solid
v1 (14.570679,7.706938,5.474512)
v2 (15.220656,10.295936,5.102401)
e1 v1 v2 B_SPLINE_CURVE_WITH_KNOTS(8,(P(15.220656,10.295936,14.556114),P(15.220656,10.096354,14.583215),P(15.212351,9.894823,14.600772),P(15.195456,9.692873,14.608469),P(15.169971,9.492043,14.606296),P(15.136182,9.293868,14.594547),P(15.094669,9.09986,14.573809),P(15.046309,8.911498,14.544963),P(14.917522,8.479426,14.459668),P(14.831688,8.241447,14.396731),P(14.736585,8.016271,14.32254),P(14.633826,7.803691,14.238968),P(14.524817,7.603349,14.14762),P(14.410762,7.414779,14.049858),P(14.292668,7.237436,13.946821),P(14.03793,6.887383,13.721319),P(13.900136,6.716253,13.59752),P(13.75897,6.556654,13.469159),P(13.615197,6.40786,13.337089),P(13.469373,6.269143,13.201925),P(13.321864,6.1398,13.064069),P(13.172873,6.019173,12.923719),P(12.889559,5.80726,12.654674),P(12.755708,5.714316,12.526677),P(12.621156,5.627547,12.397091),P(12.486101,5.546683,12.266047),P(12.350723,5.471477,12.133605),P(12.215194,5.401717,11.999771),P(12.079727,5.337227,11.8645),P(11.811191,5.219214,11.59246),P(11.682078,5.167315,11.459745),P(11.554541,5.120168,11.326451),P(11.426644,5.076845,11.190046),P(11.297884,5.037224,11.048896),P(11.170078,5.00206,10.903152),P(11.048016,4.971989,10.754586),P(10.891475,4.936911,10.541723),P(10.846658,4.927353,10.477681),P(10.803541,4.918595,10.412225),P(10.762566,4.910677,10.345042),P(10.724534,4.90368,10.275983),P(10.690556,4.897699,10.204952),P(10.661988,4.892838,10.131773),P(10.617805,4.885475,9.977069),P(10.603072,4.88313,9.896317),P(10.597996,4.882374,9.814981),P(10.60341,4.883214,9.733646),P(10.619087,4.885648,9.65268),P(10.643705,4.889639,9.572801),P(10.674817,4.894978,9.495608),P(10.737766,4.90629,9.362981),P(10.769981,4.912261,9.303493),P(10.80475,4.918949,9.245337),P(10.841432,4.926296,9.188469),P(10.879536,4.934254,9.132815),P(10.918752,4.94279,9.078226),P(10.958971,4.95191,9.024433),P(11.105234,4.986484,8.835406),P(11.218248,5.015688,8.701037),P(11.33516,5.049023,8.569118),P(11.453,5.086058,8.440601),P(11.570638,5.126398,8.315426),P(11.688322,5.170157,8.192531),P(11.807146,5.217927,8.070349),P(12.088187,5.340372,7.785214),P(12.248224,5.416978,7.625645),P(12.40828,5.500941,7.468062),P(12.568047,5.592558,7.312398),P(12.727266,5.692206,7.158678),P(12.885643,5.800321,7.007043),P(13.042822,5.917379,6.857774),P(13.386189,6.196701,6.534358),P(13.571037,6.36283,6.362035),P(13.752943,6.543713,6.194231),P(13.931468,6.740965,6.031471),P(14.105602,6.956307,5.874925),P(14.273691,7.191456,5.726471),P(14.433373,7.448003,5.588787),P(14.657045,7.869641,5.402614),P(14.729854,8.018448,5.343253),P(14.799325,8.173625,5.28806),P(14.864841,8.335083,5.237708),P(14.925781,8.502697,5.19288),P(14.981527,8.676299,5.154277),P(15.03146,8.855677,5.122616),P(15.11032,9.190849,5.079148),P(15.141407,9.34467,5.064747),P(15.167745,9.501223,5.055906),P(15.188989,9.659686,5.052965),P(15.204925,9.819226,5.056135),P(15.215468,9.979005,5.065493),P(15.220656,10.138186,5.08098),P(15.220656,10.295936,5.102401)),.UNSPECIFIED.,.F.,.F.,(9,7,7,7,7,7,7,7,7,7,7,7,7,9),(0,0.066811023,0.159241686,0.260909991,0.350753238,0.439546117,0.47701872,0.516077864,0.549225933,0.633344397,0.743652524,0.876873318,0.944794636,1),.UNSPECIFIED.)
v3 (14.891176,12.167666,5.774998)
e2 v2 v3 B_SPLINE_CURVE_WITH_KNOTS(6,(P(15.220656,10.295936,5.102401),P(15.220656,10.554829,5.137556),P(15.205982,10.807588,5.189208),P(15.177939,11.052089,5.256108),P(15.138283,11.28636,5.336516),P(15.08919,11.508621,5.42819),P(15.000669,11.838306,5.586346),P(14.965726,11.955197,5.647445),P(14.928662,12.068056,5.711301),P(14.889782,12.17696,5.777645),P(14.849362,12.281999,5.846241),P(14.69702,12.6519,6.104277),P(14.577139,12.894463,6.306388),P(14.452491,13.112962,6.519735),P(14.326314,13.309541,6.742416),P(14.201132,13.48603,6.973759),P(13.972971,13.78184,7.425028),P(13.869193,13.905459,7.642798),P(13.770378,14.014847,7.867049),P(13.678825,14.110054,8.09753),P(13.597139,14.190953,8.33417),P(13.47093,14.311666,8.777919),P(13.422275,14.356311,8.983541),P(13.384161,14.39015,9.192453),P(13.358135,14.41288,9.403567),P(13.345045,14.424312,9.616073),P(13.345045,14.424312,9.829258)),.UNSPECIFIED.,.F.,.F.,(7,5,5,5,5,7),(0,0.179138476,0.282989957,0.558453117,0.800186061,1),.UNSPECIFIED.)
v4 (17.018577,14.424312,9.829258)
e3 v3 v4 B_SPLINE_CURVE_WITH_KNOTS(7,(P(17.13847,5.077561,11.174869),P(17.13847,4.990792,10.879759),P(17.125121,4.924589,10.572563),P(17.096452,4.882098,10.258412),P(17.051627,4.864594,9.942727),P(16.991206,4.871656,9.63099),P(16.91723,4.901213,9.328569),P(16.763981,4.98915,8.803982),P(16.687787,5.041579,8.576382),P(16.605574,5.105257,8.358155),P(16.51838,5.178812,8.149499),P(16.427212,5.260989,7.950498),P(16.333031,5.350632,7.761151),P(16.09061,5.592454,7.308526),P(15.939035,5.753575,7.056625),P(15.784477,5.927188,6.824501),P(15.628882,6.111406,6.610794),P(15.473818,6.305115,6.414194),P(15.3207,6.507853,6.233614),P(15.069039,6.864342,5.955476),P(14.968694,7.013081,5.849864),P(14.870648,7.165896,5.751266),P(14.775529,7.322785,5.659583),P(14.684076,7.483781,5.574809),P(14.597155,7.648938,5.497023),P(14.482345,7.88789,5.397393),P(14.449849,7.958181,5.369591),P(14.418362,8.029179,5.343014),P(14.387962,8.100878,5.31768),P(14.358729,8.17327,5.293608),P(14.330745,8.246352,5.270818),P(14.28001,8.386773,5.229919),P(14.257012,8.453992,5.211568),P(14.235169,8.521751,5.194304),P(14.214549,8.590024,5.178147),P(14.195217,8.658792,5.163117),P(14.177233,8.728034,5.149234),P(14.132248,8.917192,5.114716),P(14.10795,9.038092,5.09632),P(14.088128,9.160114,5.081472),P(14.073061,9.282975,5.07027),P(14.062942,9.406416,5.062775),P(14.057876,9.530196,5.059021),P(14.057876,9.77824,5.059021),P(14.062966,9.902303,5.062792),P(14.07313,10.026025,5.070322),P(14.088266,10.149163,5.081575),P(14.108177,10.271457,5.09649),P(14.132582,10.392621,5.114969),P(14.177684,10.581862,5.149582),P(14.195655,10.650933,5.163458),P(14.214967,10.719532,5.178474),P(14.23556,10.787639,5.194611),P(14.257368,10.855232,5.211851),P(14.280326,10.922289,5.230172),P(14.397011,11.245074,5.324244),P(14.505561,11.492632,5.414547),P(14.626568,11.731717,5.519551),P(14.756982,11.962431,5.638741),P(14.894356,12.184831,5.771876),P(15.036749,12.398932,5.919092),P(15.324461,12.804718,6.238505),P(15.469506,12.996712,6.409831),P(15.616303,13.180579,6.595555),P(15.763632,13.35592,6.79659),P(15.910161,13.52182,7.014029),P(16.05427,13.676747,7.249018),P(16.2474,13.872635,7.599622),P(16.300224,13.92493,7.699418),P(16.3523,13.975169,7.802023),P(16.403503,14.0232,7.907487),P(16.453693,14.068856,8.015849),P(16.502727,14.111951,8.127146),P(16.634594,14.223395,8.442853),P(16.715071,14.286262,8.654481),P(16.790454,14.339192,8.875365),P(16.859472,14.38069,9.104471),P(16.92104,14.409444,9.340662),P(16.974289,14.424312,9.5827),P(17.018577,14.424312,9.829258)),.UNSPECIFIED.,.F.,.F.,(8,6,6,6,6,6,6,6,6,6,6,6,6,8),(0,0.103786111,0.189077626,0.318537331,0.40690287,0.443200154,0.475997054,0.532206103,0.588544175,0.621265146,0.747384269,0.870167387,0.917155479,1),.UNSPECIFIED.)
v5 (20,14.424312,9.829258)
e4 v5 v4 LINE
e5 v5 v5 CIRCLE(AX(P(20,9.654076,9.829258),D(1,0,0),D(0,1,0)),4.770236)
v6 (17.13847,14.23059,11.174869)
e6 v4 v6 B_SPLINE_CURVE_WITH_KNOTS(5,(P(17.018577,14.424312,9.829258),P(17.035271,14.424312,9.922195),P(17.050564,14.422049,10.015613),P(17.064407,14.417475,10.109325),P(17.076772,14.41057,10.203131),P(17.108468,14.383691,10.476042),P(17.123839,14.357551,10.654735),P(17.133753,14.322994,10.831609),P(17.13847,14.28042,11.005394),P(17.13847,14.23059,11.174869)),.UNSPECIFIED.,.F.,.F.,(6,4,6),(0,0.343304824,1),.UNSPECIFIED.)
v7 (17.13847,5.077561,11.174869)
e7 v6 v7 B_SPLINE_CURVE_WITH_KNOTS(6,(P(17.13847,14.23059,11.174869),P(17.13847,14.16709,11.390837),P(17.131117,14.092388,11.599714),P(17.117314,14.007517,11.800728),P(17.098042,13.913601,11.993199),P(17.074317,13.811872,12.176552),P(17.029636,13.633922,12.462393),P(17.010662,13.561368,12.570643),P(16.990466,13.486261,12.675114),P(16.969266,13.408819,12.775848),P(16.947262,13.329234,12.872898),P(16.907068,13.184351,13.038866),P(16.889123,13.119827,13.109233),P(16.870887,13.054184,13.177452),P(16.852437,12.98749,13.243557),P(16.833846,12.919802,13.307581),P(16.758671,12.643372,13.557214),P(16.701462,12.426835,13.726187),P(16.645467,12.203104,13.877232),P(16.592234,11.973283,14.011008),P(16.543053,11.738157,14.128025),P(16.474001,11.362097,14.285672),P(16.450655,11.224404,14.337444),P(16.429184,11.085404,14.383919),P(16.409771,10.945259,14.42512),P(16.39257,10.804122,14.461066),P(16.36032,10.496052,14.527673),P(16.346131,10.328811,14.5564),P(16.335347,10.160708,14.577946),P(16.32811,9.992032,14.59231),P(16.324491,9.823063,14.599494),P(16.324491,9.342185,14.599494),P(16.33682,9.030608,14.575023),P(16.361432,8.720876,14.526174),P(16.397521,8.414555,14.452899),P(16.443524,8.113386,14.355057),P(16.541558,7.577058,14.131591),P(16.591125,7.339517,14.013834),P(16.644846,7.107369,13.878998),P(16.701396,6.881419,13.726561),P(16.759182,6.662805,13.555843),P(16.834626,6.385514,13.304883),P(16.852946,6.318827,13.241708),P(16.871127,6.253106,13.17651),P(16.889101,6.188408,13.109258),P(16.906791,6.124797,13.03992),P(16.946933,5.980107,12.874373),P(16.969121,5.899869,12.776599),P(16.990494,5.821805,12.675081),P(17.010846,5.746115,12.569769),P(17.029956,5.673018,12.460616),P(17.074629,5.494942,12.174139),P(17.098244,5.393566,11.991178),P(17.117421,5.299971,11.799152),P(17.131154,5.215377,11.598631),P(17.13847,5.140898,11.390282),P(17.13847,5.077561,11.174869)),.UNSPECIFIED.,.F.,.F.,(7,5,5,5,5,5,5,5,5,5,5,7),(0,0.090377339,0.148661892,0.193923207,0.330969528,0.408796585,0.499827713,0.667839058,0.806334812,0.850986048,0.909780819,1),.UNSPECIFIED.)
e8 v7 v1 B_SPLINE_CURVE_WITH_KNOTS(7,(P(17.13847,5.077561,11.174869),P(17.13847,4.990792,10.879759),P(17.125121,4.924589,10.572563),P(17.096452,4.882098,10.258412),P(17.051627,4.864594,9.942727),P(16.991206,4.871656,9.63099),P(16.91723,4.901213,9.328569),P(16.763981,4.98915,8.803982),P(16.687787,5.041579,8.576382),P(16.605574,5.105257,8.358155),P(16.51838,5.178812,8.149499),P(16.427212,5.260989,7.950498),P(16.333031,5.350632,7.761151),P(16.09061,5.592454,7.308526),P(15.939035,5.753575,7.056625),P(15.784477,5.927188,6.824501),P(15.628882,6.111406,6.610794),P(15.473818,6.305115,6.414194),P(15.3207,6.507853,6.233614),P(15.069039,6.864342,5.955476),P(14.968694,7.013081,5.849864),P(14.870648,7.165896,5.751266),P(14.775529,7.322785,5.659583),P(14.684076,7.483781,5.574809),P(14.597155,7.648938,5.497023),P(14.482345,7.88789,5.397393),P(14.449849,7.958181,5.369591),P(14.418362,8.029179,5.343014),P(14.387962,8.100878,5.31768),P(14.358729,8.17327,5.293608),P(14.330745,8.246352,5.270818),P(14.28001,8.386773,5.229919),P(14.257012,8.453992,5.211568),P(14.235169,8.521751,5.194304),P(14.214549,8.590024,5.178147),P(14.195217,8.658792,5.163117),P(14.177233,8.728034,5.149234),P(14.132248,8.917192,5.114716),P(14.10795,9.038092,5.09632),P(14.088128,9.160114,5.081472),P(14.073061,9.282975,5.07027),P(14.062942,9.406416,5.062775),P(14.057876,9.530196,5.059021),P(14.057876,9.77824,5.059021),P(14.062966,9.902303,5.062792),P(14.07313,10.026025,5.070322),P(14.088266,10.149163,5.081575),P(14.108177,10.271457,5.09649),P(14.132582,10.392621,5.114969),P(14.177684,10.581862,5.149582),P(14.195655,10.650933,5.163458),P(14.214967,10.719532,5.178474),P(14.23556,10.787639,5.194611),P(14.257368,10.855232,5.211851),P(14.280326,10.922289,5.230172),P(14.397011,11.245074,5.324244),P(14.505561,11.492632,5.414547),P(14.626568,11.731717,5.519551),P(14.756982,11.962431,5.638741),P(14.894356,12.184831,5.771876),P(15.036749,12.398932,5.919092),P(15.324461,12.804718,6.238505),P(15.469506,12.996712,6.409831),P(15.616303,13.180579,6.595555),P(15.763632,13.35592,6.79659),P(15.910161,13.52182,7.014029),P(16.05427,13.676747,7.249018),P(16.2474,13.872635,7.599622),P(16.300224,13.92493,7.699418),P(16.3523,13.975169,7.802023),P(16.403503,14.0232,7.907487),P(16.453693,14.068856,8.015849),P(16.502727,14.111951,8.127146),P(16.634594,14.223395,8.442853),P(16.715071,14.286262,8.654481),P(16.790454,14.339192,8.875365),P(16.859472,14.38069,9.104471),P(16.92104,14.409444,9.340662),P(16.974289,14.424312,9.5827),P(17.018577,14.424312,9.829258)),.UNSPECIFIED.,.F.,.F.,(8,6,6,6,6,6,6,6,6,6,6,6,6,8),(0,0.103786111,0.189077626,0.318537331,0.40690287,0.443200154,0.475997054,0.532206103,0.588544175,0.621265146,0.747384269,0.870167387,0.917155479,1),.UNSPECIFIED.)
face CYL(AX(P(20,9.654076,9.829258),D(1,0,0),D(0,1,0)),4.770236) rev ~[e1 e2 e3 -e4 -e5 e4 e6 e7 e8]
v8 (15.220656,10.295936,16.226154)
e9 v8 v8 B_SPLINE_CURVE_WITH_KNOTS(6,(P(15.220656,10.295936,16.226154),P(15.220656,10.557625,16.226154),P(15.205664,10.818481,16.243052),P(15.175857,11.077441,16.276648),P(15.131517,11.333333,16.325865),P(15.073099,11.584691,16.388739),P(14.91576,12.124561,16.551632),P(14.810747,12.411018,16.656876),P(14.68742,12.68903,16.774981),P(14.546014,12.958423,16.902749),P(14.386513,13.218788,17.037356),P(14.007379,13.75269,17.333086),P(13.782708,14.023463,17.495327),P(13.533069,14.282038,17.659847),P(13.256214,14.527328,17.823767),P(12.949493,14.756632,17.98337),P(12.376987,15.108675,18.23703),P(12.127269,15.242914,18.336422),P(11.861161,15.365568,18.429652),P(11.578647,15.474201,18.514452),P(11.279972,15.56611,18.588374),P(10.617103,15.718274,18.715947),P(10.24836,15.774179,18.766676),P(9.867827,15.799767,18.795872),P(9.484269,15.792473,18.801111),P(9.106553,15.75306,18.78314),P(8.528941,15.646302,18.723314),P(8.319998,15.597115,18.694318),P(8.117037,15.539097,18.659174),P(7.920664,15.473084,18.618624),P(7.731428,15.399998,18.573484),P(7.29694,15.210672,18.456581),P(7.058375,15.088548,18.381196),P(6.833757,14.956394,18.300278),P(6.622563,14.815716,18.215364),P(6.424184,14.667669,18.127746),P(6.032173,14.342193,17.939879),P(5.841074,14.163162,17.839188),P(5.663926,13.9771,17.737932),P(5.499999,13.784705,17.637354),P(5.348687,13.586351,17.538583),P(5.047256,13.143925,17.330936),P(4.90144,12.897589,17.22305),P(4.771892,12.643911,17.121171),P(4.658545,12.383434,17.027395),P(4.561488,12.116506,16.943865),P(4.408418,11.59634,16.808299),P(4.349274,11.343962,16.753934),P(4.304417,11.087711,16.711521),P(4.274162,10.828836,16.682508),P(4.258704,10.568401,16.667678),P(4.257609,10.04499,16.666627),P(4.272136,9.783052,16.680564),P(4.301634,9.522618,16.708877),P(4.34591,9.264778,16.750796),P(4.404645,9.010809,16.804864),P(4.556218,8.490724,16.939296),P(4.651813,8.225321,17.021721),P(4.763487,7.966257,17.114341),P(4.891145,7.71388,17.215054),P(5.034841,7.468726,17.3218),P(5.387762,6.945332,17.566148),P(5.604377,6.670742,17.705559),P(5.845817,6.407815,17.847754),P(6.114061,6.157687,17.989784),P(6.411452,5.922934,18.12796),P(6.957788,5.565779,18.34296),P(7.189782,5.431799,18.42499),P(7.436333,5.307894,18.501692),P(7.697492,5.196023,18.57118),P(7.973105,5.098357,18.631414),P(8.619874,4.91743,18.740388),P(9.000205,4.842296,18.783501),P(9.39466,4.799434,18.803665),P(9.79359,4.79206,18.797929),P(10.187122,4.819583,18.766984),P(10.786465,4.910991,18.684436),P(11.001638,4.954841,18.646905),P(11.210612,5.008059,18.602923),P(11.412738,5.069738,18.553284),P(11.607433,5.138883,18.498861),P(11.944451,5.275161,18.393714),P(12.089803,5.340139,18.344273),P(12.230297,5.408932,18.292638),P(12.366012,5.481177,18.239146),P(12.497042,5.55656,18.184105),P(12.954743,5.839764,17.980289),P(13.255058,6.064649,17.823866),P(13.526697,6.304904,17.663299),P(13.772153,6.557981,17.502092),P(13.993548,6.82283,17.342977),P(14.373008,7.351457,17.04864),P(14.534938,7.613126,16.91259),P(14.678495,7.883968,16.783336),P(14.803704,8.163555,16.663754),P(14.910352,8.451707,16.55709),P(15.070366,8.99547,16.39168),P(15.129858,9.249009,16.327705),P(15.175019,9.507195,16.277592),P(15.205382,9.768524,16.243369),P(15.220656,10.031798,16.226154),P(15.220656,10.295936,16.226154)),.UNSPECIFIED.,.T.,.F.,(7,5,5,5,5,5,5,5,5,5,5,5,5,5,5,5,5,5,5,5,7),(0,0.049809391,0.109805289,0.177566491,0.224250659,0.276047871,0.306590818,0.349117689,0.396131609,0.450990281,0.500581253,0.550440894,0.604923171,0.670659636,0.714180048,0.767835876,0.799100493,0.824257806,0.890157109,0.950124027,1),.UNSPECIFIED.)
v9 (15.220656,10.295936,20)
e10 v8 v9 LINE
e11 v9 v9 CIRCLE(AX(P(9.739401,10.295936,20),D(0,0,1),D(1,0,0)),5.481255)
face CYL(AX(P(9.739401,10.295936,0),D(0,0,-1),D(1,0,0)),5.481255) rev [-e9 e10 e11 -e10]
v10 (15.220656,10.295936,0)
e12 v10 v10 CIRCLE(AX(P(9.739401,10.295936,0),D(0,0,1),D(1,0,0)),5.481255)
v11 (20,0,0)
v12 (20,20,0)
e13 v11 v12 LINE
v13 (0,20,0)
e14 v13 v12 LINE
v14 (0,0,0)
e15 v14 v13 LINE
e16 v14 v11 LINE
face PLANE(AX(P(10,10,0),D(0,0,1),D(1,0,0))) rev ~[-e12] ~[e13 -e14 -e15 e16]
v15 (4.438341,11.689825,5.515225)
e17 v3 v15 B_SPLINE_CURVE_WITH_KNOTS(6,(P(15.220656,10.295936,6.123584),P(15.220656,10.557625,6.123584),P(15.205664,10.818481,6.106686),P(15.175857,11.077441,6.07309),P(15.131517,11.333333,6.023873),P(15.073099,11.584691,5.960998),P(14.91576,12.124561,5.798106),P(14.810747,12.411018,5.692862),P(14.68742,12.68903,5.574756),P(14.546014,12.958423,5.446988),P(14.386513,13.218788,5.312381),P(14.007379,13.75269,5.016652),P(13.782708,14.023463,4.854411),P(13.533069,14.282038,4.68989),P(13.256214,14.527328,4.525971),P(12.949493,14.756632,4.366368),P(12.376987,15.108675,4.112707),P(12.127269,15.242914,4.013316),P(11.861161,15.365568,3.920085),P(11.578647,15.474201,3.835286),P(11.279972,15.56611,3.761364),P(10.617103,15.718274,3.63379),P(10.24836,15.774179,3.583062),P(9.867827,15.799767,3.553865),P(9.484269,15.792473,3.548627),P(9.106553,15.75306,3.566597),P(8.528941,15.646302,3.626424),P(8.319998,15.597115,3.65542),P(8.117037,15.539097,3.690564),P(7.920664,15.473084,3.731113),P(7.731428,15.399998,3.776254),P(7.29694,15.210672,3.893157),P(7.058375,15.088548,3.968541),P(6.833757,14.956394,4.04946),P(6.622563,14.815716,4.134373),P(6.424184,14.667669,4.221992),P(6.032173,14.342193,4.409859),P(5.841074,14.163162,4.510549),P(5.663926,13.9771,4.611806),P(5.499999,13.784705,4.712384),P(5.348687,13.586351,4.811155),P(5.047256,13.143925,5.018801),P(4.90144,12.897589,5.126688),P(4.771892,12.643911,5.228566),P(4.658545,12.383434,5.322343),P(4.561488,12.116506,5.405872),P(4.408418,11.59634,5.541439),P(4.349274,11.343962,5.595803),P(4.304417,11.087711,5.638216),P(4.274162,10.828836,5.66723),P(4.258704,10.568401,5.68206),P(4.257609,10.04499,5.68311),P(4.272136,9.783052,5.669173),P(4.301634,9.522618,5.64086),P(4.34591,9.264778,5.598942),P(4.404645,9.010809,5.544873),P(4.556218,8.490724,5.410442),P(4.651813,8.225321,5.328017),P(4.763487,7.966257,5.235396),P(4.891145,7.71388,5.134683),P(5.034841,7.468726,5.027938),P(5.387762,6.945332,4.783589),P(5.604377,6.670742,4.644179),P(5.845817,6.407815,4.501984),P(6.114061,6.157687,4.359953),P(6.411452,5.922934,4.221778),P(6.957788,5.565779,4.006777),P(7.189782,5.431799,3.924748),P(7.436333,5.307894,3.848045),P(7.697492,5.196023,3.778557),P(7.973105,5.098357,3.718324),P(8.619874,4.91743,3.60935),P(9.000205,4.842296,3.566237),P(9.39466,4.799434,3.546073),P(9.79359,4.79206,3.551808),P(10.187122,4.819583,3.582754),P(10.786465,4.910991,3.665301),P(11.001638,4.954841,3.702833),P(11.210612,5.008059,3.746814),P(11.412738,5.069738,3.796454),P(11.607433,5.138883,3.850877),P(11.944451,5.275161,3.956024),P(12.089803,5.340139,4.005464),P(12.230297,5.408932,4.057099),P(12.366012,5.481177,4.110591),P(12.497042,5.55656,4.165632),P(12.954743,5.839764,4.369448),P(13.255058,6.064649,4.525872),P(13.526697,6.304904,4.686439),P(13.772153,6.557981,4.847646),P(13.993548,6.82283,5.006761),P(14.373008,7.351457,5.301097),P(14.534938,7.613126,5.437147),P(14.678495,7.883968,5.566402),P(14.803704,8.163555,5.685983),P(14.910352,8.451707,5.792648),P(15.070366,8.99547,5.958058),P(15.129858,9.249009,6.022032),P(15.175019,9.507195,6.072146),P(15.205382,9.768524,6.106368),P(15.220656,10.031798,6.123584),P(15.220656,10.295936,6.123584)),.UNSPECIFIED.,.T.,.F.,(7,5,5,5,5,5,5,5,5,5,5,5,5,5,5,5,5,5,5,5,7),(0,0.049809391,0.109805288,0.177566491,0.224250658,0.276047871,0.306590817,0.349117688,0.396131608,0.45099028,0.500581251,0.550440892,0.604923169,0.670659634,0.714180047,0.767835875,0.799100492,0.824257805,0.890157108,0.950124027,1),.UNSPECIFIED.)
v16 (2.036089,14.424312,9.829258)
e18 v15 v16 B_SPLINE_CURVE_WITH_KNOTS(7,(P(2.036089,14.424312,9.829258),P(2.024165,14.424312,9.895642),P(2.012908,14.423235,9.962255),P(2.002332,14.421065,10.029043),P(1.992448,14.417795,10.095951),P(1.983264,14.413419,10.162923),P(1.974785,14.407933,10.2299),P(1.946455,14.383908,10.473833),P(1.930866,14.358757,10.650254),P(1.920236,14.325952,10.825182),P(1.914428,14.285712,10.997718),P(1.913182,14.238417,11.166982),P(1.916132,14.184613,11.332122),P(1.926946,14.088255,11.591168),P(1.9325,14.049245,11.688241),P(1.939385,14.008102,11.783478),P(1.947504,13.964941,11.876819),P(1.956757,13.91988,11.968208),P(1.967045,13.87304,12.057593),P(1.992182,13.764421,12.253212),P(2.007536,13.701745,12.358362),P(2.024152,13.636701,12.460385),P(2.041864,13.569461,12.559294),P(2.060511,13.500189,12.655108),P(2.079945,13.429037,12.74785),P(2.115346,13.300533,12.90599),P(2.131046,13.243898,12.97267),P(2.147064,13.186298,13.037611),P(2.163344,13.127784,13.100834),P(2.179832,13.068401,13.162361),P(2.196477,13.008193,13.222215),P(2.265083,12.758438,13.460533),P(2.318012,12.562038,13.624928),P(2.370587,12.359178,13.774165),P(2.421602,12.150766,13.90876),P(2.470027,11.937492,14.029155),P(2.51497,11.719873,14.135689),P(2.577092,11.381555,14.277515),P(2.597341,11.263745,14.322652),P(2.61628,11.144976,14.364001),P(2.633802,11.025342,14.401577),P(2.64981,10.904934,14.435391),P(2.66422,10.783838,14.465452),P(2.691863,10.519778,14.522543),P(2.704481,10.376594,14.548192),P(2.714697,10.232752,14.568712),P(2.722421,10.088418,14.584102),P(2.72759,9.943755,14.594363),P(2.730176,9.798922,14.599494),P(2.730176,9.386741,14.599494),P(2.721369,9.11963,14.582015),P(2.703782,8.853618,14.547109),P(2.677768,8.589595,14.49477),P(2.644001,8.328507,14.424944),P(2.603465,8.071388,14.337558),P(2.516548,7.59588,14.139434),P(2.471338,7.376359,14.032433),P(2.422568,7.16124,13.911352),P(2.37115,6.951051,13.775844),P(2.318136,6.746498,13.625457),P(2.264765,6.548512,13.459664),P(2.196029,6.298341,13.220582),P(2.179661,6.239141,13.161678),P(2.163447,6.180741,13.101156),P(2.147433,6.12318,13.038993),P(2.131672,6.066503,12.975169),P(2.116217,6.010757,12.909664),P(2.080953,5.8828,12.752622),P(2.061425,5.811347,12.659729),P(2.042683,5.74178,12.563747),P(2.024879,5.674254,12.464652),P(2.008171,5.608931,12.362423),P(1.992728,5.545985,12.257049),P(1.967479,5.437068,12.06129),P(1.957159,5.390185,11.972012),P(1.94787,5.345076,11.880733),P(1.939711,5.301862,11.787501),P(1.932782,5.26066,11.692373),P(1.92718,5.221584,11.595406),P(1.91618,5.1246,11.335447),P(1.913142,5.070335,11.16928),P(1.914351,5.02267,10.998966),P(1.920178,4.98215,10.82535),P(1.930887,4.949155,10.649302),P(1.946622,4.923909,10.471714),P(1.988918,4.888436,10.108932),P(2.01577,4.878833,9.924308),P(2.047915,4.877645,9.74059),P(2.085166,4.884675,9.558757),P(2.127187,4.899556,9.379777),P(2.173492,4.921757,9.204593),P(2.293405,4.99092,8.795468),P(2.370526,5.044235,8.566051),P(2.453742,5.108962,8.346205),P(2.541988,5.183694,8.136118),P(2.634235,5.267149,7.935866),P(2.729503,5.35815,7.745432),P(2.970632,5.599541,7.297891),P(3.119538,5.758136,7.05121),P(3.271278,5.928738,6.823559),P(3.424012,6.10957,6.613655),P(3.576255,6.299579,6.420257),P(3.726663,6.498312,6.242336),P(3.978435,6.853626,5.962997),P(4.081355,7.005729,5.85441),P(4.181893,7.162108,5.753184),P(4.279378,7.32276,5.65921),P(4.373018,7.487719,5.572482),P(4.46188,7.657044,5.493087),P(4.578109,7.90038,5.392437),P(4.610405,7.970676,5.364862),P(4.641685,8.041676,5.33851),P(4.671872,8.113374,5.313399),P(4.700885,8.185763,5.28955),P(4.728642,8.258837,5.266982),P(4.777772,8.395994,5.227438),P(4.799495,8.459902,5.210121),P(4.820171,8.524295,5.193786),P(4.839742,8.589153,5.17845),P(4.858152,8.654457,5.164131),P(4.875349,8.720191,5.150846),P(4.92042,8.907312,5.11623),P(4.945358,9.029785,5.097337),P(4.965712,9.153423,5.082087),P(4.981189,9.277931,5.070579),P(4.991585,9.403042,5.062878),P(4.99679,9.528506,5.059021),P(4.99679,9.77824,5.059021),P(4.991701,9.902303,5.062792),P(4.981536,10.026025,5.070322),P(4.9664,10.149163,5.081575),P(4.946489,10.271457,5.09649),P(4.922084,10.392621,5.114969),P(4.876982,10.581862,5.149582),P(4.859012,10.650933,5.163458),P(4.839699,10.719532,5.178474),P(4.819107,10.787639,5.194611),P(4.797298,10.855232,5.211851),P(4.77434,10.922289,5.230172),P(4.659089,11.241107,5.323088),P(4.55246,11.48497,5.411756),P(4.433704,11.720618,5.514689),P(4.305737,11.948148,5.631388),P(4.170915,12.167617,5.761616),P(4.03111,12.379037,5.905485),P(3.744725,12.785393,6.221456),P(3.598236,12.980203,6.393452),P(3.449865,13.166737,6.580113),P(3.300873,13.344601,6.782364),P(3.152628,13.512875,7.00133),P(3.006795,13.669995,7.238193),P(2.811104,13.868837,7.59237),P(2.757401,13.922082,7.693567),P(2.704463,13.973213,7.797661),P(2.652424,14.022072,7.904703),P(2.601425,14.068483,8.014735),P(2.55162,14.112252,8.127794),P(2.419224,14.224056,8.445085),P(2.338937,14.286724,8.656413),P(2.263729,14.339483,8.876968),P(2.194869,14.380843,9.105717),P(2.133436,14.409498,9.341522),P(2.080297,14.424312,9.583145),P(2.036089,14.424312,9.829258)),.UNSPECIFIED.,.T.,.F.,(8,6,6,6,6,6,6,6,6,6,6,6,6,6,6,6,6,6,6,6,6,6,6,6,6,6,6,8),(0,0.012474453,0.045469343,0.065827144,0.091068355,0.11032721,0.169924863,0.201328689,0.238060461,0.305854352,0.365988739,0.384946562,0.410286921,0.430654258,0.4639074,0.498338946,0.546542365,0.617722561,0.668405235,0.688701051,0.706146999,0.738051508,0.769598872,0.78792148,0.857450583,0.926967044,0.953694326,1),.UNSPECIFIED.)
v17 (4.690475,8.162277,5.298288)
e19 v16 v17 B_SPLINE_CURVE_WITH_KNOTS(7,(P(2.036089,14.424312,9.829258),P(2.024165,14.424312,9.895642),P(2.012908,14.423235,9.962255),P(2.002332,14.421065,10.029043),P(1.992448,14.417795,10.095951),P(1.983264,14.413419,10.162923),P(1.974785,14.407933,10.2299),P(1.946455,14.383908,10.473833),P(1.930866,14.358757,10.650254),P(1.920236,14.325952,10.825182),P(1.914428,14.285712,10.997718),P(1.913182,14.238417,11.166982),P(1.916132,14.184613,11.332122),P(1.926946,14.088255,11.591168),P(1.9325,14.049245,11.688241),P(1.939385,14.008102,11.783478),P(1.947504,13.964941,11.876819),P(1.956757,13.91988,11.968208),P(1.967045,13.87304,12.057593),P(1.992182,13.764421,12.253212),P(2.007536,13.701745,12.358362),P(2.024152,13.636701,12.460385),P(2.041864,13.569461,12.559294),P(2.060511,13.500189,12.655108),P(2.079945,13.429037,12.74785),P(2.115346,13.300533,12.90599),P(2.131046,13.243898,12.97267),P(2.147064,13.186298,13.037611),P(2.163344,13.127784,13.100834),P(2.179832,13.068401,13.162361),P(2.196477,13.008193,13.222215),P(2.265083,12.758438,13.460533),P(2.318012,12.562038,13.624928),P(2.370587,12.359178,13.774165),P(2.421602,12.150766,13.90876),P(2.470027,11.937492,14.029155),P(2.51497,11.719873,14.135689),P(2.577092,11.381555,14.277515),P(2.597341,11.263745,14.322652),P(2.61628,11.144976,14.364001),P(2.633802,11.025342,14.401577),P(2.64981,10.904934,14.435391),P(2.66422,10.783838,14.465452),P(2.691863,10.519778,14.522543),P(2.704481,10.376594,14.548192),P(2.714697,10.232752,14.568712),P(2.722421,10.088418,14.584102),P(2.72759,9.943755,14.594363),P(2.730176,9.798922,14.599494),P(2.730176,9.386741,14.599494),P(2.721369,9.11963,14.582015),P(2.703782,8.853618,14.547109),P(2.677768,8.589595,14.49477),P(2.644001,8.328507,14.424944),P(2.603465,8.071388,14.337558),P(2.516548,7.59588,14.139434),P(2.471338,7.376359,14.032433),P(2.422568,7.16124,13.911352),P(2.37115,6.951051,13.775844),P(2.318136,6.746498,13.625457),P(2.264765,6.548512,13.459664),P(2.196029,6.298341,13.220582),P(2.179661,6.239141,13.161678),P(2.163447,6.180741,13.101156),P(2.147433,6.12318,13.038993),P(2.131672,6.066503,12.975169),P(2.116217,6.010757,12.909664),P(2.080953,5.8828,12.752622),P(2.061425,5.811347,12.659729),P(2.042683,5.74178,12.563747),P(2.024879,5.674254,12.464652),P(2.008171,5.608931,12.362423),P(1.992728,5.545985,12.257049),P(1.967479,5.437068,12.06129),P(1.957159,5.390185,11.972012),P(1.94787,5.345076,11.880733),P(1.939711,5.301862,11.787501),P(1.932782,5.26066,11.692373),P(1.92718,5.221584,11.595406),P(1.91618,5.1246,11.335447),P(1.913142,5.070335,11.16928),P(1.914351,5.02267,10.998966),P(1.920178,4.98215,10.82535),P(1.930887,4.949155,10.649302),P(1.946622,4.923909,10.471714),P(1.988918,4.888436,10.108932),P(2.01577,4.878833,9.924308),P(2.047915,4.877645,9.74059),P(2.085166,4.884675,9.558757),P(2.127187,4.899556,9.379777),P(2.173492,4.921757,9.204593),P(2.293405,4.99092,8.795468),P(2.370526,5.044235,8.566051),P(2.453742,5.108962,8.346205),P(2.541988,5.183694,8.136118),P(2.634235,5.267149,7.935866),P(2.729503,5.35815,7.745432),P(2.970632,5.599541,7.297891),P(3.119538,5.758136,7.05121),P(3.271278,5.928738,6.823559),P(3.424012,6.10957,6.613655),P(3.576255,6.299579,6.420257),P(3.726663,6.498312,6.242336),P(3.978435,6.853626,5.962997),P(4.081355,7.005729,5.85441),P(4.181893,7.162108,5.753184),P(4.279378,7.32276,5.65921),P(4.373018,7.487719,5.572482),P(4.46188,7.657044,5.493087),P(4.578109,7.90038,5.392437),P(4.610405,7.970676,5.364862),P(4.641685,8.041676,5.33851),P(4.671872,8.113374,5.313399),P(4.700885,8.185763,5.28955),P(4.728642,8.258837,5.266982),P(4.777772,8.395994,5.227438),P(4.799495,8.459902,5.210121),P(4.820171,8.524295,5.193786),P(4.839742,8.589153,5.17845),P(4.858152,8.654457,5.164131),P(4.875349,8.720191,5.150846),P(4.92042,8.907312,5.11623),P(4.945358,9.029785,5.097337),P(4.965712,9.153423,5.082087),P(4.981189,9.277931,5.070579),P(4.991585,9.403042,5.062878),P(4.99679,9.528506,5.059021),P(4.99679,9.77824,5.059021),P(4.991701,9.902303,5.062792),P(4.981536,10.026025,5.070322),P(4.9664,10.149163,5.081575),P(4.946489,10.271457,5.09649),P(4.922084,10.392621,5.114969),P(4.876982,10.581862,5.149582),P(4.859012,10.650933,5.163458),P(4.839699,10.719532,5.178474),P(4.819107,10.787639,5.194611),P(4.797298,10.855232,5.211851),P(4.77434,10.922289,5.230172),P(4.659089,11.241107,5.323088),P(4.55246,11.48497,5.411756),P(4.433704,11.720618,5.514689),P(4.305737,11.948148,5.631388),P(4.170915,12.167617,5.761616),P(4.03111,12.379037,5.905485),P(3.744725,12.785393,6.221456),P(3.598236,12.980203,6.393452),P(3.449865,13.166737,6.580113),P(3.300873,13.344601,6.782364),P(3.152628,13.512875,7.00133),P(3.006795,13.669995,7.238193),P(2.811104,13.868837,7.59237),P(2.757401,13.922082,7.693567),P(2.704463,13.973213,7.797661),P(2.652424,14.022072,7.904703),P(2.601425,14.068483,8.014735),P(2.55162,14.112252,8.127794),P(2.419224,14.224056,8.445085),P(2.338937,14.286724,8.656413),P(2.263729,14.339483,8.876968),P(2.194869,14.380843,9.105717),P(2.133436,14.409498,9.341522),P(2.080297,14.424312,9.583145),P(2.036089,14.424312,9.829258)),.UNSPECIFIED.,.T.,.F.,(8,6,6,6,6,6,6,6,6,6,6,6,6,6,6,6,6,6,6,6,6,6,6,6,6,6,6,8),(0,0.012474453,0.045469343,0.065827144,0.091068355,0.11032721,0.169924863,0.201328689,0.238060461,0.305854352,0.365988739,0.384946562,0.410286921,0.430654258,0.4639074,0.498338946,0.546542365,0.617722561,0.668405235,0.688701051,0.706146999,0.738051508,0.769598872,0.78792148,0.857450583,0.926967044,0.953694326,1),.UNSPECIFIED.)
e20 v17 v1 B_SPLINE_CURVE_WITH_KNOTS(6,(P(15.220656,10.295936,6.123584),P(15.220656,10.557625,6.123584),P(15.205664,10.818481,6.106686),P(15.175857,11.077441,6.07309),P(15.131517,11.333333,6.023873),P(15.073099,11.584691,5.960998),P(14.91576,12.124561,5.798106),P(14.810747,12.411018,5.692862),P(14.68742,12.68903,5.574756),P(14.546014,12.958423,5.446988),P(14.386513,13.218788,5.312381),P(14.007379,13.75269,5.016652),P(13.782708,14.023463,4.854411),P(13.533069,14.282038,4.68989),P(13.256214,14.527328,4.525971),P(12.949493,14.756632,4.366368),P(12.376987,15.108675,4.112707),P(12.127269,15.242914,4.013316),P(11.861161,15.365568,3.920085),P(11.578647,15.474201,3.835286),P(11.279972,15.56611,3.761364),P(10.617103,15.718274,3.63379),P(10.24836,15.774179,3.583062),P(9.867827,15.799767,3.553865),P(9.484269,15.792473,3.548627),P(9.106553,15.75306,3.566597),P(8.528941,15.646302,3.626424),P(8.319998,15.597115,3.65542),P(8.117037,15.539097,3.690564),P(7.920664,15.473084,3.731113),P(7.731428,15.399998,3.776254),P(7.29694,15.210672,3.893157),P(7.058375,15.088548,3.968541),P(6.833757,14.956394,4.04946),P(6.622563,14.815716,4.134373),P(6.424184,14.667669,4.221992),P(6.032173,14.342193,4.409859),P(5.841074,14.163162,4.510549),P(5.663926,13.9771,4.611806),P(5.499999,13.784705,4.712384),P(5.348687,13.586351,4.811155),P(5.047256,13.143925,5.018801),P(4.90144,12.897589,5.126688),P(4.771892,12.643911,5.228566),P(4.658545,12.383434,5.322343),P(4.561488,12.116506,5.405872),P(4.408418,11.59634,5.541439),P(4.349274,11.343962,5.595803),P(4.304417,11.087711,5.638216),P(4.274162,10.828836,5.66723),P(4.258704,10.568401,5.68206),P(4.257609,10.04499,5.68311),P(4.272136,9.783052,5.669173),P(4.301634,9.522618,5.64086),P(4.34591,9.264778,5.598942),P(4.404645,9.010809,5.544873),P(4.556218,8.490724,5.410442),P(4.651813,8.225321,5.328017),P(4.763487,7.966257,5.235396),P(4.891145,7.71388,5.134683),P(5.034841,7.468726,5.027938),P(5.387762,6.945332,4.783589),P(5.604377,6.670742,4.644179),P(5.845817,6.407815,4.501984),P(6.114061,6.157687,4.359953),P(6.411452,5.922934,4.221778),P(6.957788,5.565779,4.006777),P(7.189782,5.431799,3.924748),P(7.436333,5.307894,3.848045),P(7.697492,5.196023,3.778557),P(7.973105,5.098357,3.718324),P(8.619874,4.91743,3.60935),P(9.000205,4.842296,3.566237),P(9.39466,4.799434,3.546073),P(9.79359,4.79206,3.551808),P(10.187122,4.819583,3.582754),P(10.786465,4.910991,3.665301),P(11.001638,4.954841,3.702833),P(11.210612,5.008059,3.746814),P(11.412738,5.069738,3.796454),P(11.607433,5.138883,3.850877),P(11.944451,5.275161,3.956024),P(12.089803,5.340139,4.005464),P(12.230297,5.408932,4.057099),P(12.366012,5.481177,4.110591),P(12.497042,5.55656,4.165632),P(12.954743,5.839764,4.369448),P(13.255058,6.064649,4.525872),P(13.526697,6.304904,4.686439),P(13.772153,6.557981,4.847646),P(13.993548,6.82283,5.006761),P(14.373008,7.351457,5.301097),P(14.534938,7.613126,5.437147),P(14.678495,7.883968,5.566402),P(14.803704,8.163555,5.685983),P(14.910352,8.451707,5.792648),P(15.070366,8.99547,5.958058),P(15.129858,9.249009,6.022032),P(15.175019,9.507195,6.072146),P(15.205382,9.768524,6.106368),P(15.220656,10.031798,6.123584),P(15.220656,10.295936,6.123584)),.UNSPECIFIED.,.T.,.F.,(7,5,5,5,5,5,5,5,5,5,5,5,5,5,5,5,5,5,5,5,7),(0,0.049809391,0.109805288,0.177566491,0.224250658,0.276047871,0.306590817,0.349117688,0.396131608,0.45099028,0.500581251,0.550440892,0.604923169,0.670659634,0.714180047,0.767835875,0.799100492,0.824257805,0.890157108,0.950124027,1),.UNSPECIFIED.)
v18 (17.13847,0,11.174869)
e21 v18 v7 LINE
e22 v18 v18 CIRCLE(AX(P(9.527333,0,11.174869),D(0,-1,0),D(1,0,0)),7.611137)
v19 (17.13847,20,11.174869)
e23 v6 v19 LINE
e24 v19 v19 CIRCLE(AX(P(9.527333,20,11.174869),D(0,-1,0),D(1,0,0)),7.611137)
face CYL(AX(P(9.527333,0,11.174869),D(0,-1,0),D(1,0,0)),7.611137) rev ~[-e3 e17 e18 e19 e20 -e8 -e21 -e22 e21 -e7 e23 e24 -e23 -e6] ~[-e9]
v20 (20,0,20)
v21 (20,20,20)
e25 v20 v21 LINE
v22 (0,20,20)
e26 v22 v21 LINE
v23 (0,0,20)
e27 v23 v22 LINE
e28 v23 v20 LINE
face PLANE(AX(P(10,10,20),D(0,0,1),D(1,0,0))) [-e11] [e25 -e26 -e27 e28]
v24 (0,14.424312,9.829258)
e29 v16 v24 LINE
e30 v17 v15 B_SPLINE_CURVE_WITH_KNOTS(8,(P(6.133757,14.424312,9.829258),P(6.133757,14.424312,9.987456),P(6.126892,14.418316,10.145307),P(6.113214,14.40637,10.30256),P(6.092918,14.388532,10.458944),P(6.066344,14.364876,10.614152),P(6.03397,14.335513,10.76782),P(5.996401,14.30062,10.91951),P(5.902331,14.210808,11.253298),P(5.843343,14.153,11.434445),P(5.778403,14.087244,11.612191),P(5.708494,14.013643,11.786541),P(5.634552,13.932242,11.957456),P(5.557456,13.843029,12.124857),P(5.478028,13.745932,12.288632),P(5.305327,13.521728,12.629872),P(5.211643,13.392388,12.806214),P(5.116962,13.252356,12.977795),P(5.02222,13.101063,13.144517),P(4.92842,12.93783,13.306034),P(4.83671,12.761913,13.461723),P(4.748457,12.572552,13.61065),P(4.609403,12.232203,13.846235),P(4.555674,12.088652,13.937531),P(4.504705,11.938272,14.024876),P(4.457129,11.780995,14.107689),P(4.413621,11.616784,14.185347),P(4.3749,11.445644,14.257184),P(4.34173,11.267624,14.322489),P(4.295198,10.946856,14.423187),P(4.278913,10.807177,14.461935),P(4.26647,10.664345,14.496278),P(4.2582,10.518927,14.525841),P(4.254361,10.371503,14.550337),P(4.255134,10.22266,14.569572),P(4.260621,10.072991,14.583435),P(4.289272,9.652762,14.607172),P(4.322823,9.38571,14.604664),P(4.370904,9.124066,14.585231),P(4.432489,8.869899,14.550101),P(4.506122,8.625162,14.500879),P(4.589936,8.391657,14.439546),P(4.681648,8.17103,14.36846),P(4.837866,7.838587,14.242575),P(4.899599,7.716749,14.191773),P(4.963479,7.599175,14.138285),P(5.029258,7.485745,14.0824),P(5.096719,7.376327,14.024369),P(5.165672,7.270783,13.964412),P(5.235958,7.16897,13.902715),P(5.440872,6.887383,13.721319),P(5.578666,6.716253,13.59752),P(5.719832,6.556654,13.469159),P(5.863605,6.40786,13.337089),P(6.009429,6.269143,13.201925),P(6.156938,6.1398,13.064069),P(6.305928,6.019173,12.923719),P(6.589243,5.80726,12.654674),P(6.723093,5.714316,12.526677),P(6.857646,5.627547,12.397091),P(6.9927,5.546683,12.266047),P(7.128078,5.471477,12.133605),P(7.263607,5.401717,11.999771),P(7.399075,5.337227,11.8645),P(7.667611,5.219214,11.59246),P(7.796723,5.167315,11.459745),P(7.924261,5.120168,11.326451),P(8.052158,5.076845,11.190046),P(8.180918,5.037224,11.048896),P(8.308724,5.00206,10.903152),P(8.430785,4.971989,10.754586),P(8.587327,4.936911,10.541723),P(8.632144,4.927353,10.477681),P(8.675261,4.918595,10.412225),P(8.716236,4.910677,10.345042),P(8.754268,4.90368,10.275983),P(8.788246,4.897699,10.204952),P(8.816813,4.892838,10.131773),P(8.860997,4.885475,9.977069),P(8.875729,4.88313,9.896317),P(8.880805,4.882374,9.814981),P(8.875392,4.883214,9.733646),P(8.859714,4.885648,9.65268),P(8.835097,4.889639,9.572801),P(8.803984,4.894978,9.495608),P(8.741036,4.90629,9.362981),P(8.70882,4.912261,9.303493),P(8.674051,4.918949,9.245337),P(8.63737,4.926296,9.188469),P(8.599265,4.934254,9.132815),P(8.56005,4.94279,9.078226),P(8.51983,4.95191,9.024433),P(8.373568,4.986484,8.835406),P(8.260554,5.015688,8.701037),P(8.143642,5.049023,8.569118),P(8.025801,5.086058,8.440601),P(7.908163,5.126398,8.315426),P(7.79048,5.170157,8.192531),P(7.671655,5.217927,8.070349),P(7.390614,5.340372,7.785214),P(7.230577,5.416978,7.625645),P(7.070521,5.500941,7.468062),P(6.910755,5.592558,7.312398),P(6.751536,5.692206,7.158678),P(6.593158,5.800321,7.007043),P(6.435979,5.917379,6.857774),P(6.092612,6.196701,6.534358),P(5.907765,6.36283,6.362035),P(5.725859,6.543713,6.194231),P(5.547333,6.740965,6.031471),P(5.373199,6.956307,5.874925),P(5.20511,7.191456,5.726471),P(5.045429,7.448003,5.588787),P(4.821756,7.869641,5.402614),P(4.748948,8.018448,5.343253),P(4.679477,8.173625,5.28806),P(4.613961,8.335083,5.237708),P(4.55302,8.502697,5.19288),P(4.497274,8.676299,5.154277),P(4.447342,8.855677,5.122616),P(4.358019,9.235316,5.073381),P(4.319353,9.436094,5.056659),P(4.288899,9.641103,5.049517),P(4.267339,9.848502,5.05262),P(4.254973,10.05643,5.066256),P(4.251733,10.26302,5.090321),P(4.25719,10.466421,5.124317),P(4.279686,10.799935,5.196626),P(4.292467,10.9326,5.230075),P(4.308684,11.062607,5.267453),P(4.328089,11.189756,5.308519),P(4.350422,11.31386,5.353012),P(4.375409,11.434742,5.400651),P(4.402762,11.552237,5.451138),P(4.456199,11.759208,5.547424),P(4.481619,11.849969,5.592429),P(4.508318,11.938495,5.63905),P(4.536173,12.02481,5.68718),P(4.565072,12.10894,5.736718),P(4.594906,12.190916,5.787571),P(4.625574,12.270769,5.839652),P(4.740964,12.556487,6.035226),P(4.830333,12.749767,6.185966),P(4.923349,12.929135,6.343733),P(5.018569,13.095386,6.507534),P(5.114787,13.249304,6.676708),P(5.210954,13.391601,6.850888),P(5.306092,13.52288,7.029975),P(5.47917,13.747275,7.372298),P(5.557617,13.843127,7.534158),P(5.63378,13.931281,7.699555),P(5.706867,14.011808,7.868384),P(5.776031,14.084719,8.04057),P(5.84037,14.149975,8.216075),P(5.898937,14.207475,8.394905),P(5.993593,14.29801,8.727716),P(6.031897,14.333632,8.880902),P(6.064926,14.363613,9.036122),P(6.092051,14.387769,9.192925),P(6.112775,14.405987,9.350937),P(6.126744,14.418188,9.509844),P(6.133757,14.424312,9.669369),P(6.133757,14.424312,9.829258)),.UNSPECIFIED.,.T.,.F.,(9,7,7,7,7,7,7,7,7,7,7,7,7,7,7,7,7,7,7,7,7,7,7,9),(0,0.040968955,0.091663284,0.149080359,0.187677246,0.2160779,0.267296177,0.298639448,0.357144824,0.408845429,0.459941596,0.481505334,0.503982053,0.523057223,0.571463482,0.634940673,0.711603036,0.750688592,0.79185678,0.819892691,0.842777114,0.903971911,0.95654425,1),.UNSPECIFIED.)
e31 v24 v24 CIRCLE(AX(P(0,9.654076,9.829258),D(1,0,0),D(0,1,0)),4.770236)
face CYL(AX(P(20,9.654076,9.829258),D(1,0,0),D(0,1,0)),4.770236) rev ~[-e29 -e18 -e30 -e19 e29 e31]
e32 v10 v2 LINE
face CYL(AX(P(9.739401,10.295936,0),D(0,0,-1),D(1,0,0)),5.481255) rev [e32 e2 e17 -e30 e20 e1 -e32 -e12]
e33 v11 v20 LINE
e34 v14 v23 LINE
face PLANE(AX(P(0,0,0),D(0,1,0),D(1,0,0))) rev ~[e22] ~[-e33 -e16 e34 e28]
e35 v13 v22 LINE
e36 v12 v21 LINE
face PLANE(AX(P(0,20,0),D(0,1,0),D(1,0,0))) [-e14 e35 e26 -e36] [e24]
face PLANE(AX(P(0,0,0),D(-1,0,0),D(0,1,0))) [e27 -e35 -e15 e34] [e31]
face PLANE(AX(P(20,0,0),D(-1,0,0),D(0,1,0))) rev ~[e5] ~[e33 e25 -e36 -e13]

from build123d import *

# Parameters (mm, degrees)
F0_W       = 20
F0_H       = 20
F1_DEPTH   = 20
F2_R       = 5.4812551749
F1_FACE_W  = 20
F1_FACE_H  = 20
F3_DEPTH   = 20
F4_R       = 4.7702363178
F1_FACE2_W = 20
F1_FACE2_H = 20
F5_DEPTH   = 20
F6_R       = 7.6111370414
F7_DEPTH   = 20


with BuildPart() as f1:
    # F0 (on Top) → F1 (new body)
    with BuildSketch(Plane.XY):
        with Locations((10, 10)):
            Rectangle(F0_W, F0_H)
    extrude(amount=F1_DEPTH)

    # F2 (on Top) + F1_face (on face) → F3 (cut)
    with BuildSketch(Plane.XY):
        with Locations((9.7394008189, 10.2959359065)):
            Circle(F2_R)
    with BuildSketch(Plane(origin=(10, 10, 20), x_dir=(1, 0, 0), z_dir=(0, 0, 1))):
        Rectangle(F1_FACE_W, F1_FACE_H)
    extrude(amount=F3_DEPTH, mode=Mode.SUBTRACT)

    # F4 (on face) + F1_face2 (on face) → F5 (cut)
    with BuildSketch(Plane.YZ.offset(20)):
        with Locations((9.6540758386, 9.8292576149)):
            Circle(F4_R)
    with BuildSketch(Plane(origin=(0, 10, 10), x_dir=(0, -1, 0), z_dir=(-1, 0, 0))):
        Rectangle(F1_FACE2_W, F1_FACE2_H)
    extrude(amount=-F5_DEPTH, dir=(1, 0, 0), mode=Mode.SUBTRACT)

    # F6 (on face) → F7 (cut)
    with BuildSketch(Plane.XZ):
        with Locations((9.5273330808, 11.1748687923)):
            Circle(F6_R)
    extrude(amount=-F7_DEPTH, mode=Mode.SUBTRACT)


solid = f1.part
